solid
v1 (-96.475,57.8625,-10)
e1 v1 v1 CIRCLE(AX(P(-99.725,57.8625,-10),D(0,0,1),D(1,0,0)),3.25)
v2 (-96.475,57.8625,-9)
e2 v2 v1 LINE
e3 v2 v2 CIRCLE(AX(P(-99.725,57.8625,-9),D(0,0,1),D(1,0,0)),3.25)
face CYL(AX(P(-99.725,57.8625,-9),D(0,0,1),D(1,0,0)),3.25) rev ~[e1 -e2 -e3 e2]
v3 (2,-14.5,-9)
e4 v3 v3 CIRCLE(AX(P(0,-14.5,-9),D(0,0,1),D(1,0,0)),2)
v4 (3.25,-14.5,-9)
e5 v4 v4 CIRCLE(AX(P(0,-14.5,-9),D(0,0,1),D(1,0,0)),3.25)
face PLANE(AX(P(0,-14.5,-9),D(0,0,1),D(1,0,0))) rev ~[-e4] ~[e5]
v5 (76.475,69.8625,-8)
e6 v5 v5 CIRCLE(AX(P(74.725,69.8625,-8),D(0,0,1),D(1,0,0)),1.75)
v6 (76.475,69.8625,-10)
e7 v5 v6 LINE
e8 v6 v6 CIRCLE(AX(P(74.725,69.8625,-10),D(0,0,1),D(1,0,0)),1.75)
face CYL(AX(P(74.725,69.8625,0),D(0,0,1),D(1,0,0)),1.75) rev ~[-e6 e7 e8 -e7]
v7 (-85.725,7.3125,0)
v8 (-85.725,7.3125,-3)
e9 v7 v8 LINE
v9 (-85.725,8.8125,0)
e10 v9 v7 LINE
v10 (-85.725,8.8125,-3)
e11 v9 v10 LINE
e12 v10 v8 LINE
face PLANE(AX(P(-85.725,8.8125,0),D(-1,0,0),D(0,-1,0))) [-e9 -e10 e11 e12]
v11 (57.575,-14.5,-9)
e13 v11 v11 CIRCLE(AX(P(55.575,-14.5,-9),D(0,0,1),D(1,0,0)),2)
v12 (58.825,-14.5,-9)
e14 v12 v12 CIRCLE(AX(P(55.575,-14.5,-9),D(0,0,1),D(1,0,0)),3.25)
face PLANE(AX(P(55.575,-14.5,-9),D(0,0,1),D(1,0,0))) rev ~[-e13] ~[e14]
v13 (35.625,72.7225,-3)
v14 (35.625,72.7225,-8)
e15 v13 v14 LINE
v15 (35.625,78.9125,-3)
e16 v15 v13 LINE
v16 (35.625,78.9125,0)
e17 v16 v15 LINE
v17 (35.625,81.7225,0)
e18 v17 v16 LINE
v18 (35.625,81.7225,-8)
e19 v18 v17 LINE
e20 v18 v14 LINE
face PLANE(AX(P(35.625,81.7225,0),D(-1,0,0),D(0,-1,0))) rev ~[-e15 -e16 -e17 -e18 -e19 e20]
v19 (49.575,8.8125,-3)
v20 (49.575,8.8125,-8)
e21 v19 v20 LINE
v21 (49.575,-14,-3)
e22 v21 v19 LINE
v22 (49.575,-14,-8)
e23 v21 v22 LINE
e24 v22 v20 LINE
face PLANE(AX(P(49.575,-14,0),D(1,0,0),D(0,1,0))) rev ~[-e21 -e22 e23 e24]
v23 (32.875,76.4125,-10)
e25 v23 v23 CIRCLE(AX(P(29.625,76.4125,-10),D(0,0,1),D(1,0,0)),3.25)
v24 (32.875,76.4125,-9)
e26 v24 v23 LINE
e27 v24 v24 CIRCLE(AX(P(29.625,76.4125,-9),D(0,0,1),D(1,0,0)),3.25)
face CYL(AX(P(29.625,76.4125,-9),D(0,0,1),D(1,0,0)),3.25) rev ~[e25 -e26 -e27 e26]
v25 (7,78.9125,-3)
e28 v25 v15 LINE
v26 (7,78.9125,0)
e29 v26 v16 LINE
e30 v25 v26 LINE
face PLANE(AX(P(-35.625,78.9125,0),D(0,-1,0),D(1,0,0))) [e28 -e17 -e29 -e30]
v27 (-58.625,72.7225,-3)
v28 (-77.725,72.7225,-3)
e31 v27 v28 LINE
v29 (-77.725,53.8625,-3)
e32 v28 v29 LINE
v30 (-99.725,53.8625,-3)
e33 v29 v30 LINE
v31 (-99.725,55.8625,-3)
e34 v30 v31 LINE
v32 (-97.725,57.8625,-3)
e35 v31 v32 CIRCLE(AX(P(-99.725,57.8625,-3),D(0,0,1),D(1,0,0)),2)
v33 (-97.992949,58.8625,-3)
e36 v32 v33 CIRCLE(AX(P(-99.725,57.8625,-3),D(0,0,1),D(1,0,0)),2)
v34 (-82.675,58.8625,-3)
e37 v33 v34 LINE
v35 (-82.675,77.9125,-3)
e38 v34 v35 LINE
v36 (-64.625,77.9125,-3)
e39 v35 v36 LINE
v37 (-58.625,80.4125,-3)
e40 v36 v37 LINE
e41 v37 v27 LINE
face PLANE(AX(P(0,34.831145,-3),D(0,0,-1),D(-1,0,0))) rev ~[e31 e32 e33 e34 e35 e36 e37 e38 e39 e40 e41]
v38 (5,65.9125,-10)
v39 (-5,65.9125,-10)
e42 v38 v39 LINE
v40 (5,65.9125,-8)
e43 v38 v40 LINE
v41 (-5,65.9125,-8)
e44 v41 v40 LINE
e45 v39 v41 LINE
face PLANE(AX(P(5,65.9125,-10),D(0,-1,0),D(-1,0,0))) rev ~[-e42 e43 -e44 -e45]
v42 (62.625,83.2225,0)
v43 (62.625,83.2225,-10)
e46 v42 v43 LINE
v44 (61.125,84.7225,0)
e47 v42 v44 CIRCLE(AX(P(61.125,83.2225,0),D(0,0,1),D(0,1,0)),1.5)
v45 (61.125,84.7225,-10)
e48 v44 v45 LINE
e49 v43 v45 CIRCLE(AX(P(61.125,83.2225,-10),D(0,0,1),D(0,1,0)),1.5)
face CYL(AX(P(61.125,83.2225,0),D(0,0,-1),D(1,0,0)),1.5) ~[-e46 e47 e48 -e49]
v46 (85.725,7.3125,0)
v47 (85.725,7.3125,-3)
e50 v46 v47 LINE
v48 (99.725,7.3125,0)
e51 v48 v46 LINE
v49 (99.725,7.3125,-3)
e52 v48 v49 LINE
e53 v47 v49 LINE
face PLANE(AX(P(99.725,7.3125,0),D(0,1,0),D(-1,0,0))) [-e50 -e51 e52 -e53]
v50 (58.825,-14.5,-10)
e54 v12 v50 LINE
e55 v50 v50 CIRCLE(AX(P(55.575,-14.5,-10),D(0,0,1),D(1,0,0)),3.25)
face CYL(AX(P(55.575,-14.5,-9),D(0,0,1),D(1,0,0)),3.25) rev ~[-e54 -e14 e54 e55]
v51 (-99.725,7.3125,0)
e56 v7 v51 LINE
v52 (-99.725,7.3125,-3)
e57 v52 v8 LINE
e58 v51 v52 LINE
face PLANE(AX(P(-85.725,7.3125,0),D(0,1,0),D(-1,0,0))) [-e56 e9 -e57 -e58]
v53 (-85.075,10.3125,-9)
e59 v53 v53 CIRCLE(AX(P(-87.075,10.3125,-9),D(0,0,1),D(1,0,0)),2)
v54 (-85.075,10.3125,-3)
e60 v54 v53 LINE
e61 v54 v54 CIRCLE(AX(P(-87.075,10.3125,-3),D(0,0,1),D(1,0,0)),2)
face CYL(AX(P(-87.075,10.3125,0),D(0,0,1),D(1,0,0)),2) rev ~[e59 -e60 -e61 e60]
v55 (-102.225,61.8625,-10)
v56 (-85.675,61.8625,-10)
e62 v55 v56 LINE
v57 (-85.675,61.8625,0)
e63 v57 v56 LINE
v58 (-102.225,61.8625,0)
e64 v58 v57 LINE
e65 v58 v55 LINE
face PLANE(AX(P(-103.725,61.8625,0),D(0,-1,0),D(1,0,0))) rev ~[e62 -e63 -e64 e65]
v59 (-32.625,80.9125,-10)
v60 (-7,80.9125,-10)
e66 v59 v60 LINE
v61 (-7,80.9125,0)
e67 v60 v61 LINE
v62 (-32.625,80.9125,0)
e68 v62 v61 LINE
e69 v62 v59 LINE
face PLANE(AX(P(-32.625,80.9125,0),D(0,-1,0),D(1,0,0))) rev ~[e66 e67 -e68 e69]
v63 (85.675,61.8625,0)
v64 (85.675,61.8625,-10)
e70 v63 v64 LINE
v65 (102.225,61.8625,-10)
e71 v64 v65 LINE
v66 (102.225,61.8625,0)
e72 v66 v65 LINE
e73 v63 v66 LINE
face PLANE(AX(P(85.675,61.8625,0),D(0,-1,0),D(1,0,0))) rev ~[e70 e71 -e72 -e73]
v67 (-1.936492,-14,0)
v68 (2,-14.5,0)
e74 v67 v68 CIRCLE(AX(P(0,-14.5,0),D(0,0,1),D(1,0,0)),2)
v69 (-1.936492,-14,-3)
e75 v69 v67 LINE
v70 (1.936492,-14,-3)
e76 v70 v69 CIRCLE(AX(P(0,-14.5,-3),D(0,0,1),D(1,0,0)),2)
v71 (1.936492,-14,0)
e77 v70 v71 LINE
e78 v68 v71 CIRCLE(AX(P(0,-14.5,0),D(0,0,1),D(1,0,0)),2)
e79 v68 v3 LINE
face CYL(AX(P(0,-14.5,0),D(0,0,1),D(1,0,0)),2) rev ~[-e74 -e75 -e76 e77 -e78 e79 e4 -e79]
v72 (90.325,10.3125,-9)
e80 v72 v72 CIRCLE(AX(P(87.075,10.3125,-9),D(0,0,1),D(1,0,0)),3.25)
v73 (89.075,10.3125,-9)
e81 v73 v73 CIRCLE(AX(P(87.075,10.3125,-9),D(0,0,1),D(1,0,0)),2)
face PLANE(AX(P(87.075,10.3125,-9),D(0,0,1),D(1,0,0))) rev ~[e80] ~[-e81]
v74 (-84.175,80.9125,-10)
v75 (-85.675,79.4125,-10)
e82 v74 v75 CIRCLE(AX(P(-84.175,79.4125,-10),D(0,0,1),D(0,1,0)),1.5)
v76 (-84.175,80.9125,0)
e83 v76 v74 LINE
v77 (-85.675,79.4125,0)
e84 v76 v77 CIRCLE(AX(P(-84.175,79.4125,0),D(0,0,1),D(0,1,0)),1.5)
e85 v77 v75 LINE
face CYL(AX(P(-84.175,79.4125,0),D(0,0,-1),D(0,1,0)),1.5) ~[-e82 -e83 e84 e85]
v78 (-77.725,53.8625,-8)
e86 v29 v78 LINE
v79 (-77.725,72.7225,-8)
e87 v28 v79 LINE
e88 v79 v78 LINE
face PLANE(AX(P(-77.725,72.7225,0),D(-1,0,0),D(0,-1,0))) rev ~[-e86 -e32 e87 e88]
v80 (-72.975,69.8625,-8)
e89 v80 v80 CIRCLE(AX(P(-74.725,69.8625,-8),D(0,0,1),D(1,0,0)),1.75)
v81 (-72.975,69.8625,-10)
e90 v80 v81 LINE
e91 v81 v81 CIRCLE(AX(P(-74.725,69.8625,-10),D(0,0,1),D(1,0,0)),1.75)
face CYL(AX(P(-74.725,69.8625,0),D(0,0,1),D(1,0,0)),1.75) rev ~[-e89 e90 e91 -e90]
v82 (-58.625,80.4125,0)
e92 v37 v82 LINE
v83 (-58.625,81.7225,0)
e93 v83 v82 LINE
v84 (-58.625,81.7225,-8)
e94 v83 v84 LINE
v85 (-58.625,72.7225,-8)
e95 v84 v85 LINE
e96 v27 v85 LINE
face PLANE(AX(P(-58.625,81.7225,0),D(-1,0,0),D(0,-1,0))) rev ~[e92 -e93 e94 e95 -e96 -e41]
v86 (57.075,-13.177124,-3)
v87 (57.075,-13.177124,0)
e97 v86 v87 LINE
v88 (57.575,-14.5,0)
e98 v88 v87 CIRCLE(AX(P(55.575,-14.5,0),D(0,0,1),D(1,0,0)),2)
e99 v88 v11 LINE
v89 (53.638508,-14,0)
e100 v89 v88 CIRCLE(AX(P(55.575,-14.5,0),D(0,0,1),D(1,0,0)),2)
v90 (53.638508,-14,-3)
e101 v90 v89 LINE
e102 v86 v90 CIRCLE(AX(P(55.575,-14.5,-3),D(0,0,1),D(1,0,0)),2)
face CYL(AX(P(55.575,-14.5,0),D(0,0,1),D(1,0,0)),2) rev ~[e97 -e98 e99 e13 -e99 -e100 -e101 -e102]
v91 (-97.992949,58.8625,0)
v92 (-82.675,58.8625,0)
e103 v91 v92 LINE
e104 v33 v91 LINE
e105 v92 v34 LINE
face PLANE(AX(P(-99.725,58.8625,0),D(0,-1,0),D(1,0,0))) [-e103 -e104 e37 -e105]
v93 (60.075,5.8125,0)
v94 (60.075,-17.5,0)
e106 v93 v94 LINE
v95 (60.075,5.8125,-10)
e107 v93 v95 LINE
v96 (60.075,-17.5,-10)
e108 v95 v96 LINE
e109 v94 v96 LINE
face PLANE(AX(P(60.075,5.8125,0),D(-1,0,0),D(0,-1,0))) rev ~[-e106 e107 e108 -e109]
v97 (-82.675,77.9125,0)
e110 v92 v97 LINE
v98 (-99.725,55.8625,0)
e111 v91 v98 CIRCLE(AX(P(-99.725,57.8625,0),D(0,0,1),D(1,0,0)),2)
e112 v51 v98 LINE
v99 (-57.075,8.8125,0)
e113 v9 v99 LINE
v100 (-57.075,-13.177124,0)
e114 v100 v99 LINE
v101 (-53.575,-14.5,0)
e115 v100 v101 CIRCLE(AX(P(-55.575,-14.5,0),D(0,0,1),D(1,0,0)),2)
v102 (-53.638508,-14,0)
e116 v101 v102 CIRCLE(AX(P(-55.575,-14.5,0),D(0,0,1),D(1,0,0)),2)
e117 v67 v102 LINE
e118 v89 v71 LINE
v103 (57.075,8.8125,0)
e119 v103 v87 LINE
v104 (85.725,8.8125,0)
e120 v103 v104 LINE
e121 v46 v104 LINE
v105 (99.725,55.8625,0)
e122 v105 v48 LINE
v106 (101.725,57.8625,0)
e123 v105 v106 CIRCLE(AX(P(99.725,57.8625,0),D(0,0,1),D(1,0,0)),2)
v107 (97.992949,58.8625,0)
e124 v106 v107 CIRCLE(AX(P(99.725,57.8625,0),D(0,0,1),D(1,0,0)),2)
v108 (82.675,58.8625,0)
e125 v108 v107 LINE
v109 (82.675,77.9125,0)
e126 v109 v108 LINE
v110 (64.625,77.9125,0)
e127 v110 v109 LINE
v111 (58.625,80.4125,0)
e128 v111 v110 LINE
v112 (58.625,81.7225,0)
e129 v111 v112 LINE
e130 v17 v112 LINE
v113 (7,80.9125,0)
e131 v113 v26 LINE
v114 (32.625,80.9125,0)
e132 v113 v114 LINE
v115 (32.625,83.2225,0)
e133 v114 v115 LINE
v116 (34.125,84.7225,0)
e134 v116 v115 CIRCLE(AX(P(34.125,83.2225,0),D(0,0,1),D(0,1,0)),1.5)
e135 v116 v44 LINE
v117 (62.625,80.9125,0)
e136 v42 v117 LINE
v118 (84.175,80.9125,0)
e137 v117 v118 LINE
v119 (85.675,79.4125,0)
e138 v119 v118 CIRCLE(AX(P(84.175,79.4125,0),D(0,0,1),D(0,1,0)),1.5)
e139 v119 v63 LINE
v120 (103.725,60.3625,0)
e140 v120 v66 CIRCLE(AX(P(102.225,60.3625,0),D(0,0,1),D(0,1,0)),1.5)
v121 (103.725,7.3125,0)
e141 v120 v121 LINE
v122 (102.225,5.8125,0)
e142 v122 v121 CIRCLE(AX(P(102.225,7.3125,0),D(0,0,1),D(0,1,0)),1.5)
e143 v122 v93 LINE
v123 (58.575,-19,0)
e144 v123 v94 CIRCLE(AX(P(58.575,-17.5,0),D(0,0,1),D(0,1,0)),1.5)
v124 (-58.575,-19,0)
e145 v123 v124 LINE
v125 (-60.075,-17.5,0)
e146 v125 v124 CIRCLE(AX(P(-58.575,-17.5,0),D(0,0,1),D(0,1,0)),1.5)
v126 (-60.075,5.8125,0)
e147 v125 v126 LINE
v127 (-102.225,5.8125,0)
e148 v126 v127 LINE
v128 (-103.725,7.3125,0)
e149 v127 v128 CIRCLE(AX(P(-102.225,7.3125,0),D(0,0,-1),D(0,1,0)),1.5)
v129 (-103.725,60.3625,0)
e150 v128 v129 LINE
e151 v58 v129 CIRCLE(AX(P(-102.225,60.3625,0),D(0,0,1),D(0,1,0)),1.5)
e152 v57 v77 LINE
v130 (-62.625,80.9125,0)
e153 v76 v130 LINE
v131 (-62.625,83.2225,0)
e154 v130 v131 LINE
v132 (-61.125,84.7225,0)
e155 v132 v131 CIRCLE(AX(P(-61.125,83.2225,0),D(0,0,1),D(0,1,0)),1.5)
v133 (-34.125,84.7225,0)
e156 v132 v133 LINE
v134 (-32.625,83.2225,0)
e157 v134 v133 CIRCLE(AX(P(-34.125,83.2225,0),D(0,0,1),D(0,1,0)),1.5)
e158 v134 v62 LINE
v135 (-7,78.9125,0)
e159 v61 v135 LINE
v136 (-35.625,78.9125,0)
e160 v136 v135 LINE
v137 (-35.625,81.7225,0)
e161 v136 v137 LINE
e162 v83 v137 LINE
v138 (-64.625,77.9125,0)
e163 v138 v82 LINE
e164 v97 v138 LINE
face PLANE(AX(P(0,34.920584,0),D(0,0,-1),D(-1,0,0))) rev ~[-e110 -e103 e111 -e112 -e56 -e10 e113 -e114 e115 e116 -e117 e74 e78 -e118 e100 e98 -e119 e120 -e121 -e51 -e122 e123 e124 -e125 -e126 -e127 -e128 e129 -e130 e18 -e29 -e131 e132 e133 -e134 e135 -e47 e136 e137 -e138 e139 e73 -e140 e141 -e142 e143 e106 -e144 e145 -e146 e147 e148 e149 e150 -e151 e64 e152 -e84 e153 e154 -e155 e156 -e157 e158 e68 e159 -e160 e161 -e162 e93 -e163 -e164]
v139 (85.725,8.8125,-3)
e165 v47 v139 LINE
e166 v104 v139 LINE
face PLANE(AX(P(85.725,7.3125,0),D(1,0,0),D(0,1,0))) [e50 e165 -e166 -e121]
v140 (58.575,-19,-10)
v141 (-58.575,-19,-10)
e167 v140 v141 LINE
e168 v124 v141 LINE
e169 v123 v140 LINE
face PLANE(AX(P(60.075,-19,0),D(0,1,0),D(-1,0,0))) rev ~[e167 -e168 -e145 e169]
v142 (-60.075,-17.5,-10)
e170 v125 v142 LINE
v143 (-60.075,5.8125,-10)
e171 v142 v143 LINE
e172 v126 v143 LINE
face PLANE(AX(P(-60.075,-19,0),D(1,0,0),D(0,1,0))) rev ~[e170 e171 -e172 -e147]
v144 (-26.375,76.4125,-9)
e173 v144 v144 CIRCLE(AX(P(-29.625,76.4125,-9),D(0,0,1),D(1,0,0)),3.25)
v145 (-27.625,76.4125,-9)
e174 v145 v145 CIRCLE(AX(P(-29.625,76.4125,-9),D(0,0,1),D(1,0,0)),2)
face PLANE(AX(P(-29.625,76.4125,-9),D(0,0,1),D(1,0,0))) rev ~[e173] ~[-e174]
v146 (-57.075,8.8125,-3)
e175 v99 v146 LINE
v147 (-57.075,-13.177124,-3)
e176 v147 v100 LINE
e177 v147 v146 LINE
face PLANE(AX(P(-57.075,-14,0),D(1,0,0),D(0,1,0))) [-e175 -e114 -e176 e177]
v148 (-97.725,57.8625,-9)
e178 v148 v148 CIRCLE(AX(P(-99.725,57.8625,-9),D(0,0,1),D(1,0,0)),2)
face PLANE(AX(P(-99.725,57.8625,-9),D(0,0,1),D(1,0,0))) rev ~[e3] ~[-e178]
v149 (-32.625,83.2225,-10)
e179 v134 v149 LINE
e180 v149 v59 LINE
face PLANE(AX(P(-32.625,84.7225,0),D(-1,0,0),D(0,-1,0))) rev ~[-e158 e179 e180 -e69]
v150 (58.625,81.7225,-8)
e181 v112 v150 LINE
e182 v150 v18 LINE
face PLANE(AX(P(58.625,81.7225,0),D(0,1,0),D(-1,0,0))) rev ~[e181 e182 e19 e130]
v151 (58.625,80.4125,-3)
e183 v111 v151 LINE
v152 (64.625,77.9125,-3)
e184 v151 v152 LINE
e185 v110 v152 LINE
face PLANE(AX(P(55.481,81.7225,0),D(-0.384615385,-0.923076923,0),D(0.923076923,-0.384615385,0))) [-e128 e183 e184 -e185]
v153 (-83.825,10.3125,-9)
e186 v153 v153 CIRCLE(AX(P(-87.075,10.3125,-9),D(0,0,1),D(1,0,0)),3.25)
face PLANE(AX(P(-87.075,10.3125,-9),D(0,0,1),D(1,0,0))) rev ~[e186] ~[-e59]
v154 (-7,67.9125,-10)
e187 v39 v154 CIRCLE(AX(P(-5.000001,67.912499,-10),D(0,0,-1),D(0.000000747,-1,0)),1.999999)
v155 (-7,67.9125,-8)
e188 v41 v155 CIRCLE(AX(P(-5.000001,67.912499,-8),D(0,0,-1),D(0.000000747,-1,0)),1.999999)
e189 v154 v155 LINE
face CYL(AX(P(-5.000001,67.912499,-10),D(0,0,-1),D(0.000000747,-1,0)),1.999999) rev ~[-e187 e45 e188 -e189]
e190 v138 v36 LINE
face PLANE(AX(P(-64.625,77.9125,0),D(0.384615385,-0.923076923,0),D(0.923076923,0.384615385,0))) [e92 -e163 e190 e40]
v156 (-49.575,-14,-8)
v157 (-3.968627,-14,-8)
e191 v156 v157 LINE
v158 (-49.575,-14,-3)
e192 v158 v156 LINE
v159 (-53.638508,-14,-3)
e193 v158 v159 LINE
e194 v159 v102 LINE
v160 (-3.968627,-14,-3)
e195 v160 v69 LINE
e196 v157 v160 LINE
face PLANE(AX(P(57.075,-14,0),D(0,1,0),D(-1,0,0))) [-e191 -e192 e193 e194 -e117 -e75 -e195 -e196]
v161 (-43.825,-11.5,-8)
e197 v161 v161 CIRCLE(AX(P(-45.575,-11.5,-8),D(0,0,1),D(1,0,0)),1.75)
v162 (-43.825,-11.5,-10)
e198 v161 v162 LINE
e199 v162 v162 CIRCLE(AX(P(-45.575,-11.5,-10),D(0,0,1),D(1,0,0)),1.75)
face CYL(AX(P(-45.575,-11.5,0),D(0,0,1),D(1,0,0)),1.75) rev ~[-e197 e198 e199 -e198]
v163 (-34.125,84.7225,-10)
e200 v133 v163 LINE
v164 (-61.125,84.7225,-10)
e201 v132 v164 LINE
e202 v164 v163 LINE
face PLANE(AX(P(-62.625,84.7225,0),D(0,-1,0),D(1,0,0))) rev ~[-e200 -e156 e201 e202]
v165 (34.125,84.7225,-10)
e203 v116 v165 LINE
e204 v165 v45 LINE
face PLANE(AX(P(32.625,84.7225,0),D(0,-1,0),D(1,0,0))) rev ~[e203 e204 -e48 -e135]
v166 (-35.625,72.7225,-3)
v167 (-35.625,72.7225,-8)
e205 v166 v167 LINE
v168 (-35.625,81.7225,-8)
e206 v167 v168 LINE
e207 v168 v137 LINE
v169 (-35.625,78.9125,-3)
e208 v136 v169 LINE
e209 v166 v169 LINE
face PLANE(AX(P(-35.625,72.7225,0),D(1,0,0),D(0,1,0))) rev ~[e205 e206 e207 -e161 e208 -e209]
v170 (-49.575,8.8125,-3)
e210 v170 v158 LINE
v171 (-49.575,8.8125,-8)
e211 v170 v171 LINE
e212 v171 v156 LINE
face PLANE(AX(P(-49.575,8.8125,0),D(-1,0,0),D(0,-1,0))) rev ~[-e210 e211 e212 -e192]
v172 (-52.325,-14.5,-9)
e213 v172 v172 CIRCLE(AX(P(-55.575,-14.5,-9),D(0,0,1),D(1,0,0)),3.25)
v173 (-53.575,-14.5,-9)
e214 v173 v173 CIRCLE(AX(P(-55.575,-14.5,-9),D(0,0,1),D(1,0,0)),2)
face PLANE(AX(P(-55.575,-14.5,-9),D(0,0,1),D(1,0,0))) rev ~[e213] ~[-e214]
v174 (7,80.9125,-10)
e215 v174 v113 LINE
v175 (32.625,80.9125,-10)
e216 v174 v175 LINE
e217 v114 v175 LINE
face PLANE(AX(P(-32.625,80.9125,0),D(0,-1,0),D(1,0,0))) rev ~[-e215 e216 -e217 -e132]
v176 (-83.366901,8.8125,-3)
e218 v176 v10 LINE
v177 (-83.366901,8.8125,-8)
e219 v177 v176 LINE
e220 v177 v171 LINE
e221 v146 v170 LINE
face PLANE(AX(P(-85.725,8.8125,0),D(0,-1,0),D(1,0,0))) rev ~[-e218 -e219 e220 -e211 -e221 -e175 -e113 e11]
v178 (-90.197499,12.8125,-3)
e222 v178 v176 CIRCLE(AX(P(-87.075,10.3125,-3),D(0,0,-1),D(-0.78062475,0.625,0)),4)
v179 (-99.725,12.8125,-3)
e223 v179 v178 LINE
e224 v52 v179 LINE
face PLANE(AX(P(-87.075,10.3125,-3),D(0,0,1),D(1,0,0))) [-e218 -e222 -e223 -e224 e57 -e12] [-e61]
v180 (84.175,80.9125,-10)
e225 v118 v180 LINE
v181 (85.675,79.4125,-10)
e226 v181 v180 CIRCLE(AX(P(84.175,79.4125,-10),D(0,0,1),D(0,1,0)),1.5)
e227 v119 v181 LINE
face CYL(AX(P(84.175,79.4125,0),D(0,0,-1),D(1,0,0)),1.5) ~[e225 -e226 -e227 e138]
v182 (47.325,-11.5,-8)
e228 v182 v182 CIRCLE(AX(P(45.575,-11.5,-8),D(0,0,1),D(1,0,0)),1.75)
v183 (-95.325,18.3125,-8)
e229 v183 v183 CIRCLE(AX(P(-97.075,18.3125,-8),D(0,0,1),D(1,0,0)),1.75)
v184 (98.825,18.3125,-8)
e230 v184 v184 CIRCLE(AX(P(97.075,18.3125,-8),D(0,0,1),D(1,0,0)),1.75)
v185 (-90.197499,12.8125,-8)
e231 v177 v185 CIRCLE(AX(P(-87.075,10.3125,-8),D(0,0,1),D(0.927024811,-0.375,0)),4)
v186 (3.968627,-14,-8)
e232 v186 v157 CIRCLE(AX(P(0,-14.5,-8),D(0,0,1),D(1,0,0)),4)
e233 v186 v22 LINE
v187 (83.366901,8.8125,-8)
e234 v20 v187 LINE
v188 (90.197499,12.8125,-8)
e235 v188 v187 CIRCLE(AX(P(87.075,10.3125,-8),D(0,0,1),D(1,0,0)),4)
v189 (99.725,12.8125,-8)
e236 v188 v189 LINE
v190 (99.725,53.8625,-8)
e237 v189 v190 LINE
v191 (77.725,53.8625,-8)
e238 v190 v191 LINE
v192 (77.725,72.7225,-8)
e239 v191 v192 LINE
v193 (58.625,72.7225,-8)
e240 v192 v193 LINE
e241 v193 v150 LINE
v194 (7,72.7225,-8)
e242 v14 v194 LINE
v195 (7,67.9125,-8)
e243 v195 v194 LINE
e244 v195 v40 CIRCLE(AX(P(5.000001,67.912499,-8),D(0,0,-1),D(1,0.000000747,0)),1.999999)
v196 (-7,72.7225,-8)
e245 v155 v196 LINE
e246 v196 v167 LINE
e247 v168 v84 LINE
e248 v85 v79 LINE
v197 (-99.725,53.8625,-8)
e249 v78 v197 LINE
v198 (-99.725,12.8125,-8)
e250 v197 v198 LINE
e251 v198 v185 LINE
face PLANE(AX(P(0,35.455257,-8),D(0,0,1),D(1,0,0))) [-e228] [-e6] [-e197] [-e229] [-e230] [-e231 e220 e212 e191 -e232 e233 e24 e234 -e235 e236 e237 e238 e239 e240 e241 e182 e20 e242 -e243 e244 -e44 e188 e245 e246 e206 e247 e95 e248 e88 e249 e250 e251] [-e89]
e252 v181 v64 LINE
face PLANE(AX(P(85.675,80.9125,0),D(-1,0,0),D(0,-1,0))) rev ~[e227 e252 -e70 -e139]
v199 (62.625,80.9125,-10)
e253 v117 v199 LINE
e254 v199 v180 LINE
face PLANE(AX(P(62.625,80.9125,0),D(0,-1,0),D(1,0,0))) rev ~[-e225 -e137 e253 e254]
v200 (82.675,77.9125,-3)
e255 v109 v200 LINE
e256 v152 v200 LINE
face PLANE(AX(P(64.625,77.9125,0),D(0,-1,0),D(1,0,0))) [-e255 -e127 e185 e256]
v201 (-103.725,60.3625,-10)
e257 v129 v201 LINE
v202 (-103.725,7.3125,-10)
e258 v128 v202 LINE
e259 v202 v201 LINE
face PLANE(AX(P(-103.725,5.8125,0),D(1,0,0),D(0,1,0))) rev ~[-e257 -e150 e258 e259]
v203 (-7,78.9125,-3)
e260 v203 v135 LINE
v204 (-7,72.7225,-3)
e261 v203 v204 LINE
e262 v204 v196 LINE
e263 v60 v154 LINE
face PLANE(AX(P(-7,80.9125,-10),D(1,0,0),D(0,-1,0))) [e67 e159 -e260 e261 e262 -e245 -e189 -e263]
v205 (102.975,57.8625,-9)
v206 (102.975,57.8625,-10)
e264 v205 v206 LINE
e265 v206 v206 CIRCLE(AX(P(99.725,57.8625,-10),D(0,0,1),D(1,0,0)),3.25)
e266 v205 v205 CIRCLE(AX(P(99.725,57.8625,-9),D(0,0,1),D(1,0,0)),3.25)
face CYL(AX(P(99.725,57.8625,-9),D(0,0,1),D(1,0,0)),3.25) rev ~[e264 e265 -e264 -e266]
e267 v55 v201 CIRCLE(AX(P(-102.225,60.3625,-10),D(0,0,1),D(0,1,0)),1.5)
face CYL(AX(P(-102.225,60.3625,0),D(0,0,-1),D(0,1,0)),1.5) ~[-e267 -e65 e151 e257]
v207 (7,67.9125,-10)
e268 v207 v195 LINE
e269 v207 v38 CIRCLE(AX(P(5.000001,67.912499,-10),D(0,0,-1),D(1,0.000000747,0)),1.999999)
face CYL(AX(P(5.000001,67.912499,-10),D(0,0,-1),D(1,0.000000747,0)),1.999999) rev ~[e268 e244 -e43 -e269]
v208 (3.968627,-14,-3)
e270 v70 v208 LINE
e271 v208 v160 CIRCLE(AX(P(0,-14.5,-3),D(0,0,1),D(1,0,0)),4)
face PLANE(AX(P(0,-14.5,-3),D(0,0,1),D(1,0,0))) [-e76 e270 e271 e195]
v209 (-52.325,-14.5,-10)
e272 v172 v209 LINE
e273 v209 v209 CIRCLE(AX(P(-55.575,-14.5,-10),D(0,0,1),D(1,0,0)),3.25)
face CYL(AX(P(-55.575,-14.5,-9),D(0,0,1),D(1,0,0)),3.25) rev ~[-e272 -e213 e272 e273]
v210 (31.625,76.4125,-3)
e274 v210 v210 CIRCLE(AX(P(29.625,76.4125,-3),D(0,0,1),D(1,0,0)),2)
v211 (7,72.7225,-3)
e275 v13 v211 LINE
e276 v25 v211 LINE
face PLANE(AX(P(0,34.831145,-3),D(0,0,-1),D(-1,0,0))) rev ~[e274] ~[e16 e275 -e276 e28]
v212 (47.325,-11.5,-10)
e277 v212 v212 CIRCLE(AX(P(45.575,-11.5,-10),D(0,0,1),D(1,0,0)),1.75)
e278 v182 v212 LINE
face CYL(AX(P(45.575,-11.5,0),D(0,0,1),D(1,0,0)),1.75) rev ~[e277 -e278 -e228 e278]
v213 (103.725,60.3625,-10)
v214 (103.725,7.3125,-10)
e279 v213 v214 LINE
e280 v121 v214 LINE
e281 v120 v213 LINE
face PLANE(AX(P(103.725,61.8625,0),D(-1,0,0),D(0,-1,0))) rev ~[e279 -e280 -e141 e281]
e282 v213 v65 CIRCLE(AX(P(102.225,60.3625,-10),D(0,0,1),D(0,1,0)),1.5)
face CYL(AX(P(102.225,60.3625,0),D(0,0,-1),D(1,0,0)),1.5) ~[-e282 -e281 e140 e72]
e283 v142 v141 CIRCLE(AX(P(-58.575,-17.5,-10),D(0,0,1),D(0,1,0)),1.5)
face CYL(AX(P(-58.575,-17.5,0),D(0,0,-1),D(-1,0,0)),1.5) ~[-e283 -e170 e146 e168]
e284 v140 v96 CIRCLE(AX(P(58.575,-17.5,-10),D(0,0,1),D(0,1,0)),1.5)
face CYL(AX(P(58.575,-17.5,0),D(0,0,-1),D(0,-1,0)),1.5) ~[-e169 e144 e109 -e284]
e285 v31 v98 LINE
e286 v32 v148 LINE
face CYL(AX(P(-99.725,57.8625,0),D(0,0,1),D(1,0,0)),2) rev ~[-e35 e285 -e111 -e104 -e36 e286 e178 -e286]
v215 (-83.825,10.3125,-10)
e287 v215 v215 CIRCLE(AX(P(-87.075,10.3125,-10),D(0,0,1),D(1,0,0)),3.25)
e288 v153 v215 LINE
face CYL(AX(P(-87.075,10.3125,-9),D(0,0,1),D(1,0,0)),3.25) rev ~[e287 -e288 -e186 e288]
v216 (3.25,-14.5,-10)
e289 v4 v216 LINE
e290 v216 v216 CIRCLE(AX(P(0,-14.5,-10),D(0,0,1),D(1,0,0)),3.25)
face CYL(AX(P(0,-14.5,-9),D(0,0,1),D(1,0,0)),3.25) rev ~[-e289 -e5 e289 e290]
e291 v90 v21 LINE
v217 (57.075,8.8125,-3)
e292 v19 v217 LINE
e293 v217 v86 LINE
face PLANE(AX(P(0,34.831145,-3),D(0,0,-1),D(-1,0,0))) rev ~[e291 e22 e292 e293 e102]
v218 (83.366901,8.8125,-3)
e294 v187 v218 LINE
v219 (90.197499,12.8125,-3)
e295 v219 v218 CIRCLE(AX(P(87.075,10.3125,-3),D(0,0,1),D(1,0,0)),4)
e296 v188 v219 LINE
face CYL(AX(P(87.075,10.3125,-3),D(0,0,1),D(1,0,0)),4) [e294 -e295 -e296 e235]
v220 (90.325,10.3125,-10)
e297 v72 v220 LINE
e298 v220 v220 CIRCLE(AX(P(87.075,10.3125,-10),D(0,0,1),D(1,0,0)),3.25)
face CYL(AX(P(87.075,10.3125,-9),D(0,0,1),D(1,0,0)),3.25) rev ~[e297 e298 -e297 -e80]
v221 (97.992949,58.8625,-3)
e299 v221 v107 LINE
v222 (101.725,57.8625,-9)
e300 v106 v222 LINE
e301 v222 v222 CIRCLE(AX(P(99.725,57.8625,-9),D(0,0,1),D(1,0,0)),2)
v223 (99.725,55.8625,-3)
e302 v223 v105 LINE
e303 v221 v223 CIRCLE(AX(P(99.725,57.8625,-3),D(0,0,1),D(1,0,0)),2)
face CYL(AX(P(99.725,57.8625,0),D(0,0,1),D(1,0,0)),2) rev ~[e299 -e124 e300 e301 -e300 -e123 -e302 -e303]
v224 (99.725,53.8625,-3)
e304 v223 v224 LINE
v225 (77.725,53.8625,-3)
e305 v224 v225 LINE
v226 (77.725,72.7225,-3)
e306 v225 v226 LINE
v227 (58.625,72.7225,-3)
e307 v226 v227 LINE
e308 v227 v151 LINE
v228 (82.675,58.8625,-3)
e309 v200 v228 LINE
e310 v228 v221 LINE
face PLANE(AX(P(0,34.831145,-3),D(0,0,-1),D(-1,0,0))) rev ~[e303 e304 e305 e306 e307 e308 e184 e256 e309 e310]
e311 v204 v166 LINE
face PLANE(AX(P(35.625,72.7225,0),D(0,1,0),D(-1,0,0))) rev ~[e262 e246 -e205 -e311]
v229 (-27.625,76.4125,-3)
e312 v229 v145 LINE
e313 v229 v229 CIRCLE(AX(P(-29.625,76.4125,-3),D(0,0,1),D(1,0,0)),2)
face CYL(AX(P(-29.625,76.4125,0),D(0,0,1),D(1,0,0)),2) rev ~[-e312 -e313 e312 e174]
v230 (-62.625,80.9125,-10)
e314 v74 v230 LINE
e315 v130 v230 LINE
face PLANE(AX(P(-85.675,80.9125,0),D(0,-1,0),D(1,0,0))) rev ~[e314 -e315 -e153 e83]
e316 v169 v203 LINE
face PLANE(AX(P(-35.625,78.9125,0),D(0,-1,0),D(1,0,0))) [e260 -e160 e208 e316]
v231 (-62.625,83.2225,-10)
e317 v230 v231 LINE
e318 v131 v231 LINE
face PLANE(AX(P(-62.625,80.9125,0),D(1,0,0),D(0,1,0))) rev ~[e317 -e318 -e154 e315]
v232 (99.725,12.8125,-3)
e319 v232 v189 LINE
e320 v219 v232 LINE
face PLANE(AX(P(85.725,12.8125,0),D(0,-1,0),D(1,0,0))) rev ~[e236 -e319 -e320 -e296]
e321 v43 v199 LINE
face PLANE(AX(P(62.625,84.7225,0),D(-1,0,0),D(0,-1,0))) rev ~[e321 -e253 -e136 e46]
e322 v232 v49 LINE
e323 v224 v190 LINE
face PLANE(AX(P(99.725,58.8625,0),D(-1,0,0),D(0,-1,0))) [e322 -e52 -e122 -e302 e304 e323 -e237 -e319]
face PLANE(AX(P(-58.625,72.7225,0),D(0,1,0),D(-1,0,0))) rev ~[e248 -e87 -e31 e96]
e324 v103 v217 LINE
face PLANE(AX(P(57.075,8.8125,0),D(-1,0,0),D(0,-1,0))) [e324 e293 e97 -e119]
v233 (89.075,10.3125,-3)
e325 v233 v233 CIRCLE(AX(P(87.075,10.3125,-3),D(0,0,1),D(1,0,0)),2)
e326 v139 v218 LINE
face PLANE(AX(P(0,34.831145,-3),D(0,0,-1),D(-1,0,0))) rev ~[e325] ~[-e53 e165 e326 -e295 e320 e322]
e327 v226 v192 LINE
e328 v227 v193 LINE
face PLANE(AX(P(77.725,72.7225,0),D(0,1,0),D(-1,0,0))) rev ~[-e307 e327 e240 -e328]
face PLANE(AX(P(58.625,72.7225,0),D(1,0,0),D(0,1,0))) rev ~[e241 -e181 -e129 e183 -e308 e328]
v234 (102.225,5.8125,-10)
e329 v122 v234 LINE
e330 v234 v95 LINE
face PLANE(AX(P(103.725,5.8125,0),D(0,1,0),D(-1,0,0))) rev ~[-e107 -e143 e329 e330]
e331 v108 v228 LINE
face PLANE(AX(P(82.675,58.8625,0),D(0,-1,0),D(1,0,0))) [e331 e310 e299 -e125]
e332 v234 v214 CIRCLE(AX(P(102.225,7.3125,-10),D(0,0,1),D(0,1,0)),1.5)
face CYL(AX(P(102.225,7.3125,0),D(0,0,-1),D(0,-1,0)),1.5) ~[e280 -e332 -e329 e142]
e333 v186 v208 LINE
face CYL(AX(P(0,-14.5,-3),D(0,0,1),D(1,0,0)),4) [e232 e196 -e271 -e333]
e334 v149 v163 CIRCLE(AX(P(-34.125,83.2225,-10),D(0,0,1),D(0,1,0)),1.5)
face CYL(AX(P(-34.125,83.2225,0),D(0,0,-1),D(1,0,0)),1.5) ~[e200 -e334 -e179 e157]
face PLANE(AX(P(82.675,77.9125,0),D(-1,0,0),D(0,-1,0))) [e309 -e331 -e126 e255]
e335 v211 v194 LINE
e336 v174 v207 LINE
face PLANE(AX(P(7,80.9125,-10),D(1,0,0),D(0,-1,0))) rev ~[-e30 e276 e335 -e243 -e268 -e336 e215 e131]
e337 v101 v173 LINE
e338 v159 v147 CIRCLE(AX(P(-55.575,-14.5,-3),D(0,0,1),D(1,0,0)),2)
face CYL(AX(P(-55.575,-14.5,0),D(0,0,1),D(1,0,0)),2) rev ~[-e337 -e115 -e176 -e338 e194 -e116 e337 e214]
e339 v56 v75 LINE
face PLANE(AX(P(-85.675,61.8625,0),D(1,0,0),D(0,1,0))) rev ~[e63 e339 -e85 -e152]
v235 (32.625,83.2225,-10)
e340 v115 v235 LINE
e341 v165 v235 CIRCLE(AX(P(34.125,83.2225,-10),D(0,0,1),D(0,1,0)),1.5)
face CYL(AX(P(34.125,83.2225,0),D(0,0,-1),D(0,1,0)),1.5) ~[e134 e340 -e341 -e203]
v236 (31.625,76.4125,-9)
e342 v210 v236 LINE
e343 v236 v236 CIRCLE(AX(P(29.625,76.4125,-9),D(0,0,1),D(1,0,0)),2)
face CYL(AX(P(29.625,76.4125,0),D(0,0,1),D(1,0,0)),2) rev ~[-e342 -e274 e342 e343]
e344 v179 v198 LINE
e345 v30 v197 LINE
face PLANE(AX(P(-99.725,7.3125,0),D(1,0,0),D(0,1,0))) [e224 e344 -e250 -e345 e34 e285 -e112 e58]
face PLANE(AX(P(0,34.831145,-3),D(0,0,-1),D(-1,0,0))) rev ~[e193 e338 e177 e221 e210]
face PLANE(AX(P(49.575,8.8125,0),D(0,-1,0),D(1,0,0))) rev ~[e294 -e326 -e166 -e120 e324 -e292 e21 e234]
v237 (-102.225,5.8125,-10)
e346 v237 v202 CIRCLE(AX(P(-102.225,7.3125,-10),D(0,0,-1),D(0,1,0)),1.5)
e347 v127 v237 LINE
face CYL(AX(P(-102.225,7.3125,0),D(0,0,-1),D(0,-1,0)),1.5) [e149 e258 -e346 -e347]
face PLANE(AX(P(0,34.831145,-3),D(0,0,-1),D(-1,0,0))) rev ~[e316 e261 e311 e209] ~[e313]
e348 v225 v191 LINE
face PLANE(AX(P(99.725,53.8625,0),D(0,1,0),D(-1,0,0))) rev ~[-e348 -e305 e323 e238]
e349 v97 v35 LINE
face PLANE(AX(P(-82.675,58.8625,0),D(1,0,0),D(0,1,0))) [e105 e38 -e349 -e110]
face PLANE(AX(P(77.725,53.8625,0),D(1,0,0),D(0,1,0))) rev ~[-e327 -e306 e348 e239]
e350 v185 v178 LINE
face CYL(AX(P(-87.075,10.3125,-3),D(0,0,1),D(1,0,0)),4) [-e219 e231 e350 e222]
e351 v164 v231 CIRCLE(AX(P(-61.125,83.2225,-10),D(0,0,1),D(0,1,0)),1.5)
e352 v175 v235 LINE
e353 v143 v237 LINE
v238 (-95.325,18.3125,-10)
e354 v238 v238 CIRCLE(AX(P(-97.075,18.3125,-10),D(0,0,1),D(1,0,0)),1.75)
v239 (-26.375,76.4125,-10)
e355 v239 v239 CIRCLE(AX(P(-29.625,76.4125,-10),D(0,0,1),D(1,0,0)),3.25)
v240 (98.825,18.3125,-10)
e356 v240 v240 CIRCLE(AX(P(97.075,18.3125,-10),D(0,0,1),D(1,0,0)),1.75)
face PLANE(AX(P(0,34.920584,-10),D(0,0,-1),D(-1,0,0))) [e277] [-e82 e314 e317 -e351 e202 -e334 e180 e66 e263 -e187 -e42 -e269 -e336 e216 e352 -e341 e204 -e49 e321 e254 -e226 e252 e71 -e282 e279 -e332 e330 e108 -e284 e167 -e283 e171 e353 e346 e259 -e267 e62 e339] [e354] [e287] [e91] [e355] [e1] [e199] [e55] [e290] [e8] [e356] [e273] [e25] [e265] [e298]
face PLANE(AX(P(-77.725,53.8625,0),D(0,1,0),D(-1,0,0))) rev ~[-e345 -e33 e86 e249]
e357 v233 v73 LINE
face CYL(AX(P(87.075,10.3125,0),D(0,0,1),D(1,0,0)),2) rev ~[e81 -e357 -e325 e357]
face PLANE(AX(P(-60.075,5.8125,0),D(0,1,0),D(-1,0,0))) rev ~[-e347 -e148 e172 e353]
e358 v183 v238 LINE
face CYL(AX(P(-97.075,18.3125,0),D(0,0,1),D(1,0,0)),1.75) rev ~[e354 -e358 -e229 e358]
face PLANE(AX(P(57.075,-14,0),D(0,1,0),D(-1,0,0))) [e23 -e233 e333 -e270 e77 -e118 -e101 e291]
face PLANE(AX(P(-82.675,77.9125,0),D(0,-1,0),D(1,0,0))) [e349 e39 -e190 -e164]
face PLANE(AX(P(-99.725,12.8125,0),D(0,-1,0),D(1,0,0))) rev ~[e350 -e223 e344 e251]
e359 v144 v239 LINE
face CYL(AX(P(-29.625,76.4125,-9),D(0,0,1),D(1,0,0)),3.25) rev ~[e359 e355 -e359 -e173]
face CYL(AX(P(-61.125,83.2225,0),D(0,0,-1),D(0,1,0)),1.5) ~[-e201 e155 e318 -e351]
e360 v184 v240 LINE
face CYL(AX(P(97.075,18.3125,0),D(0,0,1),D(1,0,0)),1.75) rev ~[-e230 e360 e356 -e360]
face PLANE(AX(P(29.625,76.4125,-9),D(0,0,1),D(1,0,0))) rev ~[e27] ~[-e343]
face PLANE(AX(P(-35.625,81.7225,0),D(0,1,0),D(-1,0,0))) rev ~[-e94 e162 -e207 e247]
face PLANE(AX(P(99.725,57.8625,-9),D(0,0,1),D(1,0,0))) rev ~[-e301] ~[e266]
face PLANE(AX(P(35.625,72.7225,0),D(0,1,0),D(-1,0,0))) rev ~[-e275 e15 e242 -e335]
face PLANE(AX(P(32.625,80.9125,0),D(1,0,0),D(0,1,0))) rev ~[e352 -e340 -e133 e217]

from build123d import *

# Parameters (mm, degrees)
PAD002_DEPTH    = 10
POCKET006_DEPTH = 8
POCKET007_DEPTH = 3
PAD003_START    = -3
SKETCH017_R     = 4
PAD003_DEPTH    = 7
SKETCH016_R     = 2
POCKET008_DEPTH = 10.001
POCKET009_START = -9
SKETCH018_R     = 3.25
POCKET009_DEPTH = 5
POCKET010_DEPTH = 10.001
SKETCH020_R     = 1.75
POCKET011_DEPTH = 10.001
FILLET001_R     = 1.5


with BuildPart() as part:
    # Sketch013 → Pad002 (new body)
    with BuildSketch(Plane.XY):
        Polygon((-103.725, 5.8125), (-103.725, 61.8625), (-85.675, 61.8625), (-85.675, 80.9125), (-62.625, 80.9125), (-62.625, 84.7225), (-32.625, 84.7225), (-32.625, 80.9125), (32.625, 80.9125), (32.625, 84.7225), (62.625, 84.7225), (62.625, 80.9125), (85.675, 80.9125), (85.675, 61.8625), (103.725, 61.8625), (103.725, 5.8125), (60.075, 5.8125), (60.075, -19), (-60.075, -19), (-60.075, 5.8125), align=None)
    extrude(amount=-PAD002_DEPTH)

    # Sketch014 → Pocket006 (cut)
    with BuildSketch(Plane.XY):
        Polygon((-99.725, 12.8125), (-85.725, 12.8125), (-85.725, 8.8125), (-49.575, 8.8125), (-49.575, -14), (49.575, -14), (49.575, 8.8125), (85.725, 8.8125), (85.725, 12.8125), (99.725, 12.8125), (99.725, 53.8625), (77.725, 53.8625), (77.725, 72.7225), (58.625, 72.7225), (58.625, 81.7225), (35.625, 81.7225), (35.625, 72.7225), (-35.625, 72.7225), (-35.625, 81.7225), (-58.625, 81.7225), (-58.625, 72.7225), (-77.725, 72.7225), (-77.725, 53.8625), (-99.725, 53.8625), align=None)
    extrude(amount=-POCKET006_DEPTH, mode=Mode.SUBTRACT)

    # Sketch015 → Pocket007 (cut)
    with BuildSketch(Plane.XY):
        Polygon((-57.075, -14), (-57.075, 8.8125), (-85.725, 8.8125), (-85.725, 7.3125), (-99.725, 7.3125), (-99.725, 58.8625), (-82.675, 58.8625), (-82.675, 77.9125), (-64.625, 77.9125), (-55.481, 81.7225), (-35.625, 81.7225), (-35.625, 78.9125), (35.625, 78.9125), (35.625, 81.7225), (55.481, 81.7225), (64.625, 77.9125), (82.675, 77.9125), (82.675, 58.8625), (99.725, 58.8625), (99.725, 7.3125), (85.725, 7.3125), (85.725, 8.8125), (57.075, 8.8125), (57.075, -14), align=None)
    extrude(amount=-POCKET007_DEPTH, mode=Mode.SUBTRACT)

    # Sketch017 → Pad003 (join)
    with BuildSketch(Plane.XY.offset(PAD003_START)):
        with Locations((-87.075, 10.3125)):
            Circle(SKETCH017_R)
        with Locations((87.075, 10.3125)):
            Circle(SKETCH017_R)
        with Locations((0, -14.5)):
            Circle(SKETCH017_R)
    extrude(amount=-PAD003_DEPTH)

    # Sketch016 → Pocket008 (cut, through all)
    with BuildSketch(Plane.XY):
        with Locations((-29.625, 76.4125)):
            Circle(SKETCH016_R)
        with Locations((29.625, 76.4125)):
            Circle(SKETCH016_R)
        with Locations((87.075, 10.3125)):
            Circle(SKETCH016_R)
        with Locations((55.575, -14.5)):
            Circle(SKETCH016_R)
        with Locations((-55.575, -14.5)):
            Circle(SKETCH016_R)
        with Locations((-87.075, 10.3125)):
            Circle(SKETCH016_R)
        with Locations((99.725, 57.8625)):
            Circle(SKETCH016_R)
        with Locations((-99.725, 57.8625)):
            Circle(SKETCH016_R)
        with Locations((0, -14.5)):
            Circle(SKETCH016_R)
    extrude(amount=-POCKET008_DEPTH, mode=Mode.SUBTRACT)

    # Sketch018 → Pocket009 (cut)
    with BuildSketch(Plane.XY.offset(POCKET009_START)):
        with Locations((-99.725, 57.8625)):
            Circle(SKETCH018_R)
        with Locations((-87.075, 10.3125)):
            Circle(SKETCH018_R)
        with Locations((-55.575, -14.5)):
            Circle(SKETCH018_R)
        with Locations((55.575, -14.5)):
            Circle(SKETCH018_R)
        with Locations((87.075, 10.3125)):
            Circle(SKETCH018_R)
        with Locations((99.725, 57.8625)):
            Circle(SKETCH018_R)
        with Locations((29.625, 76.4125)):
            Circle(SKETCH018_R)
        with Locations((-29.625, 76.4125)):
            Circle(SKETCH018_R)
        with Locations((0, -14.5)):
            Circle(SKETCH018_R)
    extrude(amount=-POCKET009_DEPTH, mode=Mode.SUBTRACT)

    # Sketch019 (on Face5 of Pocket009) → Pocket010 (cut, through all)
    with BuildSketch(Plane(origin=(0, 0, -10), x_dir=(1, 0, 0), z_dir=(0, 0, -1))):
        with BuildLine():
            Line((0, -80.9125), (7, -80.9125))
            Line((7, -80.9125), (7, -67.9125))
            ThreePointArc((7, -67.9125), (6.414214, -66.498286), (5, -65.9125))
            Line((5, -65.9125), (0, -65.9125))
            Line((-5, -65.9125), (0, -65.9125))
            ThreePointArc((-5, -65.9125), (-6.414214, -66.498286), (-7, -67.9125))
            Line((-7, -80.9125), (-7, -67.9125))
            Line((0, -80.9125), (-7, -80.9125))
        make_face()
    extrude(amount=-POCKET010_DEPTH, mode=Mode.SUBTRACT)

    # Sketch020 → Pocket011 (cut, through all)
    with BuildSketch(Plane.XY):
        with Locations((-97.075, 18.3125)):
            Circle(SKETCH020_R)
        with Locations((-74.725, 69.8625)):
            Circle(SKETCH020_R)
        with Locations((74.725, 69.8625)):
            Circle(SKETCH020_R)
        with Locations((97.075, 18.3125)):
            Circle(SKETCH020_R)
        with Locations((-45.575, -11.5)):
            Circle(SKETCH020_R)
        with Locations((45.575, -11.5)):
            Circle(SKETCH020_R)
    extrude(amount=-POCKET011_DEPTH, mode=Mode.SUBTRACT)

    # Fillet001
    fillet001_edges = [part.edges().sort_by_distance(p)[0] for p in [
        (-60.075, -19, -5),
        (-103.725, 5.8125, -5),
        (-103.725, 61.8625, -5),
        (-85.675, 80.9125, -5),
        (-62.625, 84.7225, -5),
        (-32.625, 84.7225, -5),
        (32.625, 84.7225, -5),
        (62.625, 84.7225, -5),
        (85.675, 80.9125, -5),
        (103.725, 61.8625, -5),
        (103.725, 5.8125, -5),
        (60.075, -19, -5),
    ]]
    fillet(fillet001_edges, radius=FILLET001_R)


solid = part.part
